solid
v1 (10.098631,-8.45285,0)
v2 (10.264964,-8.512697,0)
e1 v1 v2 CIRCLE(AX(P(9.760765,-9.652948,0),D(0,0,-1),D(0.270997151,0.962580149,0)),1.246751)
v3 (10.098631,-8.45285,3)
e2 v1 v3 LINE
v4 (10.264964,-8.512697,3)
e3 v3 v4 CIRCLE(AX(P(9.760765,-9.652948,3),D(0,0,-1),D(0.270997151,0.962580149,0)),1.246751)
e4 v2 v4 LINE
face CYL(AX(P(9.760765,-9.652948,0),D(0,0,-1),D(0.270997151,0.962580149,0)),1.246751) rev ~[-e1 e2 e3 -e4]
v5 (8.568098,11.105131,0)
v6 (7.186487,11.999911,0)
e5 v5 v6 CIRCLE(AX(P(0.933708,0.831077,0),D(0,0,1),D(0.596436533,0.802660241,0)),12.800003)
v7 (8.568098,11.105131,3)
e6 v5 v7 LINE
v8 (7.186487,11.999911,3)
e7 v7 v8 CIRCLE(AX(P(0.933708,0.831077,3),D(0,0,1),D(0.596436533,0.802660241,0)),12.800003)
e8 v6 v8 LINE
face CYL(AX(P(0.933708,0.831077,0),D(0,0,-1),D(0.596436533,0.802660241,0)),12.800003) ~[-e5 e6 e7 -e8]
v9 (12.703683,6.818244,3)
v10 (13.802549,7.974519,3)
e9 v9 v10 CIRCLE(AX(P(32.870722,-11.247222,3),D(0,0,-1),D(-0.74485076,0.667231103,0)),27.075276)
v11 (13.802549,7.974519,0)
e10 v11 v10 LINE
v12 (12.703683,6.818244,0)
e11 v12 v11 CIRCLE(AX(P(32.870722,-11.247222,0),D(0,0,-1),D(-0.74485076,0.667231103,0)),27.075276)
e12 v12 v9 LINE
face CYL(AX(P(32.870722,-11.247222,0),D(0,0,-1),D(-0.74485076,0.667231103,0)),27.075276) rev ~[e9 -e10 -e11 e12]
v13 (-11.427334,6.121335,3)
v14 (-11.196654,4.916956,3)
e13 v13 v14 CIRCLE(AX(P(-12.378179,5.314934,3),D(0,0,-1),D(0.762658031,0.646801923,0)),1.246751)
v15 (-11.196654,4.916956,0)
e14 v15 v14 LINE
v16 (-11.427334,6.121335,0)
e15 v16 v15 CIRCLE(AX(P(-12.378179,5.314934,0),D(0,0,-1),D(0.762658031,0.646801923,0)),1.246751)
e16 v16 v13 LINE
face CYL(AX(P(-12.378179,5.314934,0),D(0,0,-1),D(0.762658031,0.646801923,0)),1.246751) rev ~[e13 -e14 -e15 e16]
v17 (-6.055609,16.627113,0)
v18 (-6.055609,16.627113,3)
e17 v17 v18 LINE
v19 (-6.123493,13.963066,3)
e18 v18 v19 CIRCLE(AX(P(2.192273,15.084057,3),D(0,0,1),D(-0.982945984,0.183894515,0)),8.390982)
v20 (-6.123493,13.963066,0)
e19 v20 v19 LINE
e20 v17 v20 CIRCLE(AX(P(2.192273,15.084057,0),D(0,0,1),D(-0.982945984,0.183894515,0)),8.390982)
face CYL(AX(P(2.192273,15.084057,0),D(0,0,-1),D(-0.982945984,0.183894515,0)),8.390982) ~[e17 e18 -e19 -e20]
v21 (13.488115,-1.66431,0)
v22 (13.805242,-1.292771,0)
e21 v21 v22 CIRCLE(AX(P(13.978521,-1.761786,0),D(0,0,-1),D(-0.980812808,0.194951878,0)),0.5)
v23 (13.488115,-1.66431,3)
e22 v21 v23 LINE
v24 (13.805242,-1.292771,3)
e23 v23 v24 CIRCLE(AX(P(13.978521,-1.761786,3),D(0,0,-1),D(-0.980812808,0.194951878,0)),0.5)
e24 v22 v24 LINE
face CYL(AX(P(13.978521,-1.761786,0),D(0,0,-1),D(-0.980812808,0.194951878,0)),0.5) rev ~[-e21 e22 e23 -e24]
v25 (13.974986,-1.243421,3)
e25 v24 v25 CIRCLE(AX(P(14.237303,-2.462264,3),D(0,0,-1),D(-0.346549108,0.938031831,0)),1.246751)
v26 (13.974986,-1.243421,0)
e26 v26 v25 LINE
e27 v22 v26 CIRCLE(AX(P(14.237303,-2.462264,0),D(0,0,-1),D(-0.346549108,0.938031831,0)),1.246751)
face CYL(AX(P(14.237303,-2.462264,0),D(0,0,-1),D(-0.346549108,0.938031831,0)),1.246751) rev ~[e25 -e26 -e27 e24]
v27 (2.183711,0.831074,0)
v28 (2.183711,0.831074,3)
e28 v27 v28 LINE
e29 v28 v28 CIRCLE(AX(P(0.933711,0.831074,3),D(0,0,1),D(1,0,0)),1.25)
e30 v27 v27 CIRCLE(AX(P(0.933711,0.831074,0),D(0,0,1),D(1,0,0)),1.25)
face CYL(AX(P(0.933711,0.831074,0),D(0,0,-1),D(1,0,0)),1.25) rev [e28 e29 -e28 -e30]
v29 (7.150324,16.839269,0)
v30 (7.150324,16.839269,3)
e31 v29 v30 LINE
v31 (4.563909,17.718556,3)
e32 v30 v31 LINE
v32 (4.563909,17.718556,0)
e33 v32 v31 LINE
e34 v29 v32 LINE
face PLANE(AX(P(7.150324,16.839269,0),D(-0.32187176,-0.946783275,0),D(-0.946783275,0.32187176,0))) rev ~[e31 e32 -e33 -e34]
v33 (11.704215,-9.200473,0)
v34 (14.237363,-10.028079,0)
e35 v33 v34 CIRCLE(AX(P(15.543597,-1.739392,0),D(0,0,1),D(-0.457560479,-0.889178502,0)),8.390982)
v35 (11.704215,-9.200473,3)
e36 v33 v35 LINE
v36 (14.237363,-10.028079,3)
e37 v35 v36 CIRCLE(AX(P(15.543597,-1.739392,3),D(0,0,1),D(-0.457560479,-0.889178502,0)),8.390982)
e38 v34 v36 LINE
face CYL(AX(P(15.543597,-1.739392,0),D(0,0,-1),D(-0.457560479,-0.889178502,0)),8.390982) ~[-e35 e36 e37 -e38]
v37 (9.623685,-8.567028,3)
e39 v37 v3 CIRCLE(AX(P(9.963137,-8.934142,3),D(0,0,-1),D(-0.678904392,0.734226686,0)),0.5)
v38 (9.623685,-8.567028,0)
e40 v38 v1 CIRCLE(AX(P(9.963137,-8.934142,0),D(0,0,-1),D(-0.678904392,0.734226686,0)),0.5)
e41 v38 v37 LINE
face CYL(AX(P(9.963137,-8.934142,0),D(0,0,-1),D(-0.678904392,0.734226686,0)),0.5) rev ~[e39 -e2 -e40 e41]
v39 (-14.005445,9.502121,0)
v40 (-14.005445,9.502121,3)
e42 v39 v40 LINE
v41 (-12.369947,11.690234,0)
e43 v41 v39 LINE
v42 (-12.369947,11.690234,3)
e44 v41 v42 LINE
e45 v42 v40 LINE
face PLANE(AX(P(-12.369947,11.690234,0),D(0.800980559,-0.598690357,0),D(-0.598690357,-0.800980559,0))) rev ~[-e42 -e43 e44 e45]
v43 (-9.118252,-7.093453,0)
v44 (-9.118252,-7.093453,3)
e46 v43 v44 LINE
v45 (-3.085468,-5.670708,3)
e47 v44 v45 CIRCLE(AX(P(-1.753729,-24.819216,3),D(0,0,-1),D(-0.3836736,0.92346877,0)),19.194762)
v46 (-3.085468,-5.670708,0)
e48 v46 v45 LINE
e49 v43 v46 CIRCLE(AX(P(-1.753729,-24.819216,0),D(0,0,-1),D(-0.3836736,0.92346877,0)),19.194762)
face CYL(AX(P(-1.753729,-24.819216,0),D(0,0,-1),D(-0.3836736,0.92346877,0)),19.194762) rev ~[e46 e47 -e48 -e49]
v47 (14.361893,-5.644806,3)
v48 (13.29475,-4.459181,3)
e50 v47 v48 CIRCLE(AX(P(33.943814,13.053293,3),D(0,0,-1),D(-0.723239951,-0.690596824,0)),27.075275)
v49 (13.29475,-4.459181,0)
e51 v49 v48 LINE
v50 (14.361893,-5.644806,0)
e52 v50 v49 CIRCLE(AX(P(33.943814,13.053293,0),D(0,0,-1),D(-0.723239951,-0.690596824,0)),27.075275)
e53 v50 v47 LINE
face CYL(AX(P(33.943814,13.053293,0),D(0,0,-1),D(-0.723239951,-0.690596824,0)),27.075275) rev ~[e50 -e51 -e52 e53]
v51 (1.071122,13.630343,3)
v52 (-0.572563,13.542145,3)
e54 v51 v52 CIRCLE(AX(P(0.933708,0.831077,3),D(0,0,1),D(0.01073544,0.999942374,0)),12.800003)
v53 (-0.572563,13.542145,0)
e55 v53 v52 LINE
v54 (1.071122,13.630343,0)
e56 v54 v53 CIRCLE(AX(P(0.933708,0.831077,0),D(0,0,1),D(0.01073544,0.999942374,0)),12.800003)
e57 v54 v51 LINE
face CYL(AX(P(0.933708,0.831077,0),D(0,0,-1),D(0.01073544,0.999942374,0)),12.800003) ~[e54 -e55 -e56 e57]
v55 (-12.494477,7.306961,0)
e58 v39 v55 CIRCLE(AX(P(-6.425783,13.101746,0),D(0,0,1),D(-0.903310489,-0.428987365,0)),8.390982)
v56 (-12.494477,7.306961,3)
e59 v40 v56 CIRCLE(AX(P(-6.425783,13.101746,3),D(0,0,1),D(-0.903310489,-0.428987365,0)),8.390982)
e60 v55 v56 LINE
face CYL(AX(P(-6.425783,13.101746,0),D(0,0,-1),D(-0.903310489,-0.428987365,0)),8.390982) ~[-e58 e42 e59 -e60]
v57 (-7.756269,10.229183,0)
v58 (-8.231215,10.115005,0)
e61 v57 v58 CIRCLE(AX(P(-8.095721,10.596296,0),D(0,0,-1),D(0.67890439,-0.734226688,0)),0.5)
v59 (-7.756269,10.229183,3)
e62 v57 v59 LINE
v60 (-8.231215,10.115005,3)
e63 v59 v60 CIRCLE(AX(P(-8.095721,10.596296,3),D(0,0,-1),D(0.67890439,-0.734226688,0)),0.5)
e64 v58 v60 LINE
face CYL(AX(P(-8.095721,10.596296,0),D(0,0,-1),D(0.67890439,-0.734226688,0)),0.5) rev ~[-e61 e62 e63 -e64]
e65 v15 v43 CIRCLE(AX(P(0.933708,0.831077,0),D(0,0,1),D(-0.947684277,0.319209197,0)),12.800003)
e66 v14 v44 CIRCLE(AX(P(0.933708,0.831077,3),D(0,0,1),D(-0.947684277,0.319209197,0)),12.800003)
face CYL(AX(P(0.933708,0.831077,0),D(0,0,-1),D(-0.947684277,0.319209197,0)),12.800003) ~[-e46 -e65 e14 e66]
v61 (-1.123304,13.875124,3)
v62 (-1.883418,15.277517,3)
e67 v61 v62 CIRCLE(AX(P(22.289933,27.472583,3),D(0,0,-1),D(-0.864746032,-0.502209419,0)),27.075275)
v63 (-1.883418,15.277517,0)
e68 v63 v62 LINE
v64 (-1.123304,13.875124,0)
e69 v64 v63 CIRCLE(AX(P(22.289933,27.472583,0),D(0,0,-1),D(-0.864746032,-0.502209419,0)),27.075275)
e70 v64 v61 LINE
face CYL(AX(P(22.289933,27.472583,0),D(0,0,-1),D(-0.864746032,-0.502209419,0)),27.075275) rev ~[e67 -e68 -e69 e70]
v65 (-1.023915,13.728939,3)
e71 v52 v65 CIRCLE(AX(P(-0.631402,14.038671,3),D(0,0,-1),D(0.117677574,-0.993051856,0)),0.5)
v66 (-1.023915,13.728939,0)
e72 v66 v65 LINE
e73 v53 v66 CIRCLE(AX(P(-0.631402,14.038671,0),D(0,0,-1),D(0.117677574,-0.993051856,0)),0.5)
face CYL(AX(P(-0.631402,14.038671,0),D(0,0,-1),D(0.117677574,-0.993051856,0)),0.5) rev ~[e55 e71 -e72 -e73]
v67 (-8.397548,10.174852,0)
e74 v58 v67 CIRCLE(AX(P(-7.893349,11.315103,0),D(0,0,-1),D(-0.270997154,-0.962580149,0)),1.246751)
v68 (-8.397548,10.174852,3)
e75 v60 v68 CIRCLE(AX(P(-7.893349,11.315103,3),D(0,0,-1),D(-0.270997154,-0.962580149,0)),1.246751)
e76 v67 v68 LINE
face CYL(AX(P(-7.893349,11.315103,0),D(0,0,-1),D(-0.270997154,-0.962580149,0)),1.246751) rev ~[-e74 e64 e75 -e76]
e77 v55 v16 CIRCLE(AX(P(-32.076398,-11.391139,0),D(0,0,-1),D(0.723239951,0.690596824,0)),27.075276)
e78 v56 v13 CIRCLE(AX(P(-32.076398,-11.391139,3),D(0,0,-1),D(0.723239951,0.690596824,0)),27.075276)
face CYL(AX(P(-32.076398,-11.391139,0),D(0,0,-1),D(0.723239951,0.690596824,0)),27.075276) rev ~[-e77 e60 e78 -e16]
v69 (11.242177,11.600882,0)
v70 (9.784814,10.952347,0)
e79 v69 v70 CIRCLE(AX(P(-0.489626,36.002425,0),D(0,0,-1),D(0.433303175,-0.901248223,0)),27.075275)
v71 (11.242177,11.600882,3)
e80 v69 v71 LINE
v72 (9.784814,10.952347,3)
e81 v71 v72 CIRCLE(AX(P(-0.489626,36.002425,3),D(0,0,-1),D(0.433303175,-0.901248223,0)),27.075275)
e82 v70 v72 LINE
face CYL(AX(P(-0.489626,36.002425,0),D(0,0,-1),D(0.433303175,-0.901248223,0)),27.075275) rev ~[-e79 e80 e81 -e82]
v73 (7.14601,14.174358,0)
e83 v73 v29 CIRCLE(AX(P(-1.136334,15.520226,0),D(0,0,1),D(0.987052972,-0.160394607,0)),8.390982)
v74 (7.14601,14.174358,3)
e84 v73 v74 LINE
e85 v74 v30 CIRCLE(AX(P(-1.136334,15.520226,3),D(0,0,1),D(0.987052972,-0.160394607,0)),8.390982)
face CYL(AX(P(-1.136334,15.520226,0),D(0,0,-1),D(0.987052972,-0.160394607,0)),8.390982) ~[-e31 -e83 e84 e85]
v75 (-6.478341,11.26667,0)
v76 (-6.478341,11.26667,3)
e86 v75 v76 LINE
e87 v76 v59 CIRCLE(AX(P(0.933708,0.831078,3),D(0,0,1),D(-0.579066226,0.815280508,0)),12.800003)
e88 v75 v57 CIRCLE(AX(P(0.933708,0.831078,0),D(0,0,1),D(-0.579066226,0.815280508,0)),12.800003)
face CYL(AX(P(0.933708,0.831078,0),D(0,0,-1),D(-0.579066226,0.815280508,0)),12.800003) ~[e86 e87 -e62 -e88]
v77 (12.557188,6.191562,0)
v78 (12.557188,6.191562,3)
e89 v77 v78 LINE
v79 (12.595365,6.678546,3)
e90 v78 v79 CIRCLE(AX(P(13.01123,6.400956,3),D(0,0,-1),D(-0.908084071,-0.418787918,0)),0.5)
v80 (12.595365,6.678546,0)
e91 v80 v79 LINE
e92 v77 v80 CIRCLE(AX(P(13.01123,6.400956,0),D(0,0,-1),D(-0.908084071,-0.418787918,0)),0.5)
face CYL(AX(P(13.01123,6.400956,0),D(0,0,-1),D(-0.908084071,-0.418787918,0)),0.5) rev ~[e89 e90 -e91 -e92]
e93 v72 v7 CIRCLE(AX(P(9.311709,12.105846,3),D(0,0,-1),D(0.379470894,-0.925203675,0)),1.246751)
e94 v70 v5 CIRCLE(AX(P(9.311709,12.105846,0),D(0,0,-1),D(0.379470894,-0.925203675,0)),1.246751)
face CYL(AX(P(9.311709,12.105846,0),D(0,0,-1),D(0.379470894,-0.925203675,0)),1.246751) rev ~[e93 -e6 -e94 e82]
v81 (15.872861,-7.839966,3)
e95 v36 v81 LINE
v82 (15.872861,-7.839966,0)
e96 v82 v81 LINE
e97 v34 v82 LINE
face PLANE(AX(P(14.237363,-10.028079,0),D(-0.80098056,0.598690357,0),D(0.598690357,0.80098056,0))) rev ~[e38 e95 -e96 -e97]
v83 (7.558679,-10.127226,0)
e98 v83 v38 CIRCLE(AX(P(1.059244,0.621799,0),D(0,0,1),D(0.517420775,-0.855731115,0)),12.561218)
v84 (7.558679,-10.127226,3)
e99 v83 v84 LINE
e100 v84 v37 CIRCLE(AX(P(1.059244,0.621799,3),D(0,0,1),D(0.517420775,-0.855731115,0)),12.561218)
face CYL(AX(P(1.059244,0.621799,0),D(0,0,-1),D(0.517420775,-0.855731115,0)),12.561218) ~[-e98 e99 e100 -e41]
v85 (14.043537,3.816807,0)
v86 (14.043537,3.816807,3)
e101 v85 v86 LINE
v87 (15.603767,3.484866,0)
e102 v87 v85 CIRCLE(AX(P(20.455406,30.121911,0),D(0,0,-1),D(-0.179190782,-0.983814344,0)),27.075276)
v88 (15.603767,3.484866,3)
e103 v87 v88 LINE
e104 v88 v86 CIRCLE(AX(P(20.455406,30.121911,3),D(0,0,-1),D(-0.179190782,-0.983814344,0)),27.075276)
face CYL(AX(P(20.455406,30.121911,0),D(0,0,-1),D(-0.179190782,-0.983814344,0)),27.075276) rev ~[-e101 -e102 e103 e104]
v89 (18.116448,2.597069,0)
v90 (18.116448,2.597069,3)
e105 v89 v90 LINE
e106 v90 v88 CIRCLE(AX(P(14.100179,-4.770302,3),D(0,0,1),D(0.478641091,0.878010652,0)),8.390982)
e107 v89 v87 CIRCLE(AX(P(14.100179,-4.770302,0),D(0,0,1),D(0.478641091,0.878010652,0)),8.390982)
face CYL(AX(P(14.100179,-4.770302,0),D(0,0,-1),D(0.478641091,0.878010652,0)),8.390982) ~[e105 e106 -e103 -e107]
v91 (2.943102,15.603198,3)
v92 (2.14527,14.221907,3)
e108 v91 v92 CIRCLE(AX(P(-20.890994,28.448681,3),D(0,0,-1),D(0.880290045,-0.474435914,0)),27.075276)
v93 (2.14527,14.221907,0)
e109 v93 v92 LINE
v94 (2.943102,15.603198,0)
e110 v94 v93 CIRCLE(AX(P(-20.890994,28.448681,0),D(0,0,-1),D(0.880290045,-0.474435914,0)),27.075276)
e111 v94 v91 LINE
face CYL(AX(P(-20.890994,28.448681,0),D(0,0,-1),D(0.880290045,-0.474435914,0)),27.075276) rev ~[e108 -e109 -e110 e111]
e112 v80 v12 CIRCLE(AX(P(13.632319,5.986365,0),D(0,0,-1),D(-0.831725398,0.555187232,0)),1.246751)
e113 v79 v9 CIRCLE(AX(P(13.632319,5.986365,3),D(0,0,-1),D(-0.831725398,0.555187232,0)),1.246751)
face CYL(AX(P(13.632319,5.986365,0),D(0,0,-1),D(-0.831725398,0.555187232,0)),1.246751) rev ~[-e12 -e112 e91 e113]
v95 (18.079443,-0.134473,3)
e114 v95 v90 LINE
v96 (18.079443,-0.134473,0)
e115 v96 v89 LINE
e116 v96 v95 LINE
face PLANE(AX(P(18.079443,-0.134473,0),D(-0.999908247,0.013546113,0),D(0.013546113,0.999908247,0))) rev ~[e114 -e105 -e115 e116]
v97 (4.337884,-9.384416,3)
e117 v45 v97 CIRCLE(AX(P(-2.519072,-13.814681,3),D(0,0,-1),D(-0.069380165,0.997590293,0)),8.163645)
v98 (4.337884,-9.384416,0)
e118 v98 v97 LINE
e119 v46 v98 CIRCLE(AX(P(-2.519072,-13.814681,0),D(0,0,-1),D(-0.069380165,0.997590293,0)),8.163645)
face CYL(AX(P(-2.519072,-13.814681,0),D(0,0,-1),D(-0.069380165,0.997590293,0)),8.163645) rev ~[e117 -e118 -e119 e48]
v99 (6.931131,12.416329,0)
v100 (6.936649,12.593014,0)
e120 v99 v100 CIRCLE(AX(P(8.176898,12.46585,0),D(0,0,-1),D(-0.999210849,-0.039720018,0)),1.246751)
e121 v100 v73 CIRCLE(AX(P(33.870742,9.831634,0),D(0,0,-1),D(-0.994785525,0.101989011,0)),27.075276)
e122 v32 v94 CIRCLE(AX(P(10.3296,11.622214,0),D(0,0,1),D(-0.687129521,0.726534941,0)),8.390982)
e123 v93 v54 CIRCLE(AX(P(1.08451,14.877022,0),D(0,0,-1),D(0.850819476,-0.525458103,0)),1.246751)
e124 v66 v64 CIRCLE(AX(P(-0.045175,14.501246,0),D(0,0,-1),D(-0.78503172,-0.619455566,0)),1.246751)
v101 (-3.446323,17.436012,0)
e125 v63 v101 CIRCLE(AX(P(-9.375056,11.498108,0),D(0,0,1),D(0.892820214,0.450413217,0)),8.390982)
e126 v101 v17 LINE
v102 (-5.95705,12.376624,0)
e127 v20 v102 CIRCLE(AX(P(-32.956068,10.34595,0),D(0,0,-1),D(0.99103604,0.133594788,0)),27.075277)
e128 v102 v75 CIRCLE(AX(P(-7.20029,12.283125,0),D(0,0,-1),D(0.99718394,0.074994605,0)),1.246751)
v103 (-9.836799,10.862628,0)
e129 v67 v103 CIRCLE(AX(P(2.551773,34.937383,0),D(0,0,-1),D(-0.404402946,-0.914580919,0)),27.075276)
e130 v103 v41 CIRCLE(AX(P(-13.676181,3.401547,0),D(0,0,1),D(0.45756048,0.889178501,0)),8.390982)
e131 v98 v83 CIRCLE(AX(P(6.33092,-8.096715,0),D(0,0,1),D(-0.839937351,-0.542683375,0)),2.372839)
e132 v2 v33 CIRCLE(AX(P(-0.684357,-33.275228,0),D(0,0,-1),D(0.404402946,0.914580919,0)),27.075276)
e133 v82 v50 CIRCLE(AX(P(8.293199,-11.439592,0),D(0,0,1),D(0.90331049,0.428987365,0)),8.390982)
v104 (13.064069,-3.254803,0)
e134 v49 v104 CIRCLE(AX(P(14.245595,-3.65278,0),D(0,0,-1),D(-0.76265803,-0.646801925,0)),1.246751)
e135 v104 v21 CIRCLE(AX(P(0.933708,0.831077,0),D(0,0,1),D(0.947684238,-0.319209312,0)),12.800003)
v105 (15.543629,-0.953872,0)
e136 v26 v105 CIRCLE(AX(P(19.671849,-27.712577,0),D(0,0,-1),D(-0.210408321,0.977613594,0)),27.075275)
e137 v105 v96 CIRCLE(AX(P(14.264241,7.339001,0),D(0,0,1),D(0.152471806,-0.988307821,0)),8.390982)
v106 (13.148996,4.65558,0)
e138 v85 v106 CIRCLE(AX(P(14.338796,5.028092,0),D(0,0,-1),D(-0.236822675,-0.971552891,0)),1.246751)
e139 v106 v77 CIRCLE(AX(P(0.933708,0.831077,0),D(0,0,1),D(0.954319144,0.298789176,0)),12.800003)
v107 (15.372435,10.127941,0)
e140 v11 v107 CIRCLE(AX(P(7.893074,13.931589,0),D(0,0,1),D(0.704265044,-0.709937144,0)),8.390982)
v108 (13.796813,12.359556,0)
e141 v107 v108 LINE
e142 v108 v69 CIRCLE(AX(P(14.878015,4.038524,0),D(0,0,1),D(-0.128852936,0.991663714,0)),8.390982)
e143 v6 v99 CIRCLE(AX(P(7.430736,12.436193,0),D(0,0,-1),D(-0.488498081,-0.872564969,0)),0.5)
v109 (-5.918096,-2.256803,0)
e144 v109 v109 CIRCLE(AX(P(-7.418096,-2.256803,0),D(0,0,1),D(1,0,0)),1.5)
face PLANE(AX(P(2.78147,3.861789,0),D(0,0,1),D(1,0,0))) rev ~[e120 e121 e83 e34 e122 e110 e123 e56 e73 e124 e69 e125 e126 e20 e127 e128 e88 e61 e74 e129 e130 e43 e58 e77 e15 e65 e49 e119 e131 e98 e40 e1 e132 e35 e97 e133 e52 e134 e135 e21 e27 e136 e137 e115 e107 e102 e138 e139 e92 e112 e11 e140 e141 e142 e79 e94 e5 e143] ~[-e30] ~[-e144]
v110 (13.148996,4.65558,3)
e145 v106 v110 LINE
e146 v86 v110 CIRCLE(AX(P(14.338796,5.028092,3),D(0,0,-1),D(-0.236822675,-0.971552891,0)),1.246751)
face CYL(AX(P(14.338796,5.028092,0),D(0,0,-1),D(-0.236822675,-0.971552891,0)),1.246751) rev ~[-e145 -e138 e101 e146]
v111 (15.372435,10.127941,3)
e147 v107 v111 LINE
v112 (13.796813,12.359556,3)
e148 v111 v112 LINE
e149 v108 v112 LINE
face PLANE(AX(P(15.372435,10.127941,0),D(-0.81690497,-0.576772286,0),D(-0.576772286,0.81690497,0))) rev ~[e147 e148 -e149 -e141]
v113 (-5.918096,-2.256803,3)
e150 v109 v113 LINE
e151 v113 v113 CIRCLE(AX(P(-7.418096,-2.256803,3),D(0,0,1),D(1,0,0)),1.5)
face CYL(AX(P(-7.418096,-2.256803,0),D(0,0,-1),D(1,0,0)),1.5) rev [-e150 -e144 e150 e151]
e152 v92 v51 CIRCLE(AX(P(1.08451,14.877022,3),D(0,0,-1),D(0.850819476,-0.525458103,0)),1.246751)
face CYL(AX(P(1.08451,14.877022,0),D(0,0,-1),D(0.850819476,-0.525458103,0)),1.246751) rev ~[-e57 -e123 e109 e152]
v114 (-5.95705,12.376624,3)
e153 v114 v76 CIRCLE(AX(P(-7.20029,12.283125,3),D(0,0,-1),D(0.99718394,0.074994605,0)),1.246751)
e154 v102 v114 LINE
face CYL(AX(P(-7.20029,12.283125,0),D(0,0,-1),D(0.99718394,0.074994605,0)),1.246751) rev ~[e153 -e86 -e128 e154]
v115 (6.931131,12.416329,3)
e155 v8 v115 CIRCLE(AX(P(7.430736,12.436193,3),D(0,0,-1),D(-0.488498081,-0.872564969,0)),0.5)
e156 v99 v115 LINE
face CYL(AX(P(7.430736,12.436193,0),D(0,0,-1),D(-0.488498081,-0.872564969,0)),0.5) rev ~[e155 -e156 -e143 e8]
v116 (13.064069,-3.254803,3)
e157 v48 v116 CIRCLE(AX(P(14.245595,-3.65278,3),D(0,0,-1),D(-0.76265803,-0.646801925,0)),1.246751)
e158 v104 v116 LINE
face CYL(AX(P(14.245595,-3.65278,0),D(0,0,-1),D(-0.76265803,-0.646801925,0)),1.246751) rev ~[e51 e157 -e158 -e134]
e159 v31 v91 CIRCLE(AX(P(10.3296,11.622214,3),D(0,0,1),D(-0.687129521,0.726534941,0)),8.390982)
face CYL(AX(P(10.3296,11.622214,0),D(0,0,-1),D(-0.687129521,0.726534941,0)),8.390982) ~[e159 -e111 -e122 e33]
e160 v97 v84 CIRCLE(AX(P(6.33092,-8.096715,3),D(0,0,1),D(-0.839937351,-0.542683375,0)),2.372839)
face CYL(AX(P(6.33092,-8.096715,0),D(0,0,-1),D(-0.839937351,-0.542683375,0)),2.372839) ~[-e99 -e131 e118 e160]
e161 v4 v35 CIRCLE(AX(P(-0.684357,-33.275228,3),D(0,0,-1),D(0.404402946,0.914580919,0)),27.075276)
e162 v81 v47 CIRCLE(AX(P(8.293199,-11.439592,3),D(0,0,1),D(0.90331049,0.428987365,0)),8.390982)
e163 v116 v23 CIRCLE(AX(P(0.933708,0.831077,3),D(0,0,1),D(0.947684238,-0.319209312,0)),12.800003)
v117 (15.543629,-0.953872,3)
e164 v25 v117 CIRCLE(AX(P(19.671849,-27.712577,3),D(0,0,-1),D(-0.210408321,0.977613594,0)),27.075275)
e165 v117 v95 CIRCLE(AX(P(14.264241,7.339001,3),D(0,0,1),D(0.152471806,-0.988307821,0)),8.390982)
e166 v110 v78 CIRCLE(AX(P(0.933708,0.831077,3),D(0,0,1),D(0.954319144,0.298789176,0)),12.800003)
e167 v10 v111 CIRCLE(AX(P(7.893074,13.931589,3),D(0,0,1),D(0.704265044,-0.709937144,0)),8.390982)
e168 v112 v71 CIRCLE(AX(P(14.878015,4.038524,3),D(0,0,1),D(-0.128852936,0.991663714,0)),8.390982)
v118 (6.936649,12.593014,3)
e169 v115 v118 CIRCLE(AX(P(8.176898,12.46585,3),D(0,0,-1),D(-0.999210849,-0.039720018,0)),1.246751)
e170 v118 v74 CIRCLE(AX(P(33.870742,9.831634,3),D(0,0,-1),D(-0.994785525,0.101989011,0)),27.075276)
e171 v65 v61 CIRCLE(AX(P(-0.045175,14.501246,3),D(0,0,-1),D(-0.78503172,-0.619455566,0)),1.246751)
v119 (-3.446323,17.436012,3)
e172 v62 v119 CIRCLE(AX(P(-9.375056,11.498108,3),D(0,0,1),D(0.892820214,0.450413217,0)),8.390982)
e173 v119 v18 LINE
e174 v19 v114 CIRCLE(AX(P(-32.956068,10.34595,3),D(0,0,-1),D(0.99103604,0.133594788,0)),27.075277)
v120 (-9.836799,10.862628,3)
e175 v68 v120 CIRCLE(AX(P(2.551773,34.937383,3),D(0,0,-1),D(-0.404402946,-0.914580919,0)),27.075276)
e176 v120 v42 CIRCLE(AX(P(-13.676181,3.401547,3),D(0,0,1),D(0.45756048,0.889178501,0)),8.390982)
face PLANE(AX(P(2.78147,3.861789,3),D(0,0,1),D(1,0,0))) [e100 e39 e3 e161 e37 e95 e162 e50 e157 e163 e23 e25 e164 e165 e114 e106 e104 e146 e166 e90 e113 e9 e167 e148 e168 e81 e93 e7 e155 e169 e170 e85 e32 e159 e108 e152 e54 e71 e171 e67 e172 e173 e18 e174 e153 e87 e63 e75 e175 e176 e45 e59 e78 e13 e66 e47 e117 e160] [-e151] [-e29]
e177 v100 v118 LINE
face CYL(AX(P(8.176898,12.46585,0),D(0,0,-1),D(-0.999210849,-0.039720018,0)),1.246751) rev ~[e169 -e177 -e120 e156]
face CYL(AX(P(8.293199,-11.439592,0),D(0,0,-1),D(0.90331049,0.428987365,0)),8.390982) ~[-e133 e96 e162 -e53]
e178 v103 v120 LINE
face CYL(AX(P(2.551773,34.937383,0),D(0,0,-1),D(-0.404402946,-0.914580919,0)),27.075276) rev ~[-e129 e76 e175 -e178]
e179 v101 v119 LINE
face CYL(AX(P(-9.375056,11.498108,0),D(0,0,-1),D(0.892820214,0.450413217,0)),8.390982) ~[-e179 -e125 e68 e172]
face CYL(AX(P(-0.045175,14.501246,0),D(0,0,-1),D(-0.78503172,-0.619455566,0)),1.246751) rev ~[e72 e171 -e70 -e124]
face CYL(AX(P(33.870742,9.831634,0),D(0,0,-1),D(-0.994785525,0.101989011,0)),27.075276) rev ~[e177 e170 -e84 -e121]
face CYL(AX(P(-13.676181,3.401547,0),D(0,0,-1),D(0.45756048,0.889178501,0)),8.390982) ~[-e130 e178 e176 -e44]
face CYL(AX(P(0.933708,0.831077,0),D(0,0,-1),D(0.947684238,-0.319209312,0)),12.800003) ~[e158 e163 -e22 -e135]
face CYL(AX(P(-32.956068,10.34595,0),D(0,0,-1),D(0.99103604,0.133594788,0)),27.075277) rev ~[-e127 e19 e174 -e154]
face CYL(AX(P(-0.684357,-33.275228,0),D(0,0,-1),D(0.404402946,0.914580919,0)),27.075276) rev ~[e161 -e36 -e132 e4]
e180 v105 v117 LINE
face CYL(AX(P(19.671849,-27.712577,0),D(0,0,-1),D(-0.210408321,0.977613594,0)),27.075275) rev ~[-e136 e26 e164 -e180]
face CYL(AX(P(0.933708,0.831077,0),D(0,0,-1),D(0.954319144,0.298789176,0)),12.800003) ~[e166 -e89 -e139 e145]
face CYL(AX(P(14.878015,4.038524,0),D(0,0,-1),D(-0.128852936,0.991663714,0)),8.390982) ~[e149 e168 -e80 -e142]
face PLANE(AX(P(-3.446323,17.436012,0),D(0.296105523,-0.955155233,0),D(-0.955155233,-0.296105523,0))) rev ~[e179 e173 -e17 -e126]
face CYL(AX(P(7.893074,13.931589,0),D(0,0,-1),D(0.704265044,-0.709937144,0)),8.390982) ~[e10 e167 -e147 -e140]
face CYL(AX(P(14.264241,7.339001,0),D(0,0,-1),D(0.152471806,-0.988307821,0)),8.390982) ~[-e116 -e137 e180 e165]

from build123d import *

# Parameters (mm, degrees)
SKETCH1_R           = 1.5
SKETCH1_R_2         = 1.25
BOSS_EXTRUDE1_DEPTH = 3


with BuildPart() as part:
    # Sketch1 → Boss-Extrude1 (new body)
    with BuildSketch(Plane.XY):
        with BuildLine():
            Line((18.079443034, -0.134472667), (18.116448206, 2.597069427))
            ThreePointArc((18.116448206, 2.597069427), (16.895577145, 3.141355734), (15.603766672, 3.48486619))
            ThreePointArc((15.603766672, 3.48486619), (14.82120671, 3.639343944), (14.043536913, 3.816807057))
            ThreePointArc((14.043536913, 3.816807057), (13.486015309, 4.11861181), (13.148996222, 4.655579763))
            ThreePointArc((13.148996222, 4.655579763), (12.877808188, 5.433093829), (12.557188118, 6.191561919))
            ThreePointArc((12.557188118, 6.191561919), (12.512759529, 6.440033201), (12.595364936, 6.678545725))
            ThreePointArc((12.595364936, 6.678545725), (12.647044724, 6.750316962), (12.70368256, 6.818243882))
            ThreePointArc((12.70368256, 6.818243882), (13.244598766, 7.404475621), (13.802549183, 7.974518889))
            ThreePointArc((13.802549183, 7.974518889), (14.673526858, 8.988509045), (15.372435088, 10.12794111))
            Line((15.372435088, 10.12794111), (13.796812742, 12.35955618))
            ThreePointArc((13.796812742, 12.35955618), (12.489183841, 12.082283047), (11.242176835, 11.600881699))
            ThreePointArc((11.242176835, 11.600881699), (10.518272782, 11.265879623), (9.784814499, 10.95234746))
            ThreePointArc((9.784814499, 10.95234746), (9.156373664, 10.868809657), (8.568097651, 11.105131008))
            ThreePointArc((8.568097651, 11.105131008), (7.891690622, 11.574752773), (7.186487179, 11.999910599))
            ThreePointArc((7.186487179, 11.999910599), (7.00449594, 12.174813619), (6.931130974, 12.416328545))
            ThreePointArc((6.931130974, 12.416328545), (6.930754726, 12.504769312), (6.936649256, 12.59301423))
            ThreePointArc((6.936649256, 12.59301423), (7.029681289, 13.385228238), (7.146009632, 14.174357956))
            ThreePointArc((7.146009632, 14.174357956), (7.254636913, 15.506641056), (7.150324186, 16.839268911))
            Line((7.150324186, 16.839268911), (4.563908504, 17.71855585))
            ThreePointArc((4.563908504, 17.71855585), (3.668991559, 16.72563219), (2.943102312, 15.603197991))
            ThreePointArc((2.943102312, 15.603197991), (2.55436091, 14.906675492), (2.145270277, 14.221906682))
            ThreePointArc((2.145270277, 14.221906682), (1.685953249, 13.784934925), (1.071121753, 13.630342949))
            ThreePointArc((1.071121753, 13.630342949), (0.247860223, 13.612692862), (-0.572562847, 13.542144585))
            ThreePointArc((-0.572562847, 13.542144585), (-0.822602268, 13.576672334), (-1.023914683, 13.728939169))
            ThreePointArc((-1.023914683, 13.728939169), (-1.076203253, 13.8002681), (-1.12330354, 13.875124455))
            ThreePointArc((-1.12330354, 13.875124455), (-1.513690755, 14.570721908), (-1.883417958, 15.277517345))
            ThreePointArc((-1.883417958, 15.277517345), (-2.578633, 16.419206529), (-3.446322769, 17.436011628))
            Line((-3.446322769, 17.436011628), (-6.055608905, 16.62711271))
            ThreePointArc((-6.055608905, 16.62711271), (-6.195986038, 15.297801614), (-6.123492507, 13.963066277))
            ThreePointArc((-6.123492507, 13.963066277), (-6.028585255, 13.171071275), (-5.957049521, 12.376624229))
            ThreePointArc((-5.957049521, 12.376624229), (-6.071799248, 11.753126877), (-6.478341494, 11.266670455))
            ThreePointArc((-6.478341494, 11.266670455), (-7.133999602, 10.768490249), (-7.756268571, 10.229182913))
            ThreePointArc((-7.756268571, 10.229182913), (-7.978849614, 10.110146965), (-8.231214979, 10.115004953))
            ThreePointArc((-8.231214979, 10.115004953), (-8.315443414, 10.14197682), (-8.397547808, 10.17485203))
            ThreePointArc((-8.397547808, 10.17485203), (-9.122239624, 10.508138343), (-9.836799148, 10.862627665))
            ThreePointArc((-9.836799148, 10.862627665), (-11.070307997, 11.377636469), (-12.369946808, 11.690233824))
            Line((-12.369946808, 11.690233824), (-14.005444781, 9.502120943))
            ThreePointArc((-14.005444781, 9.502120943), (-13.337662809, 8.344174067), (-12.494476564, 7.306961125))
            ThreePointArc((-12.494476564, 7.306961125), (-11.952172002, 6.722008792), (-11.427334121, 6.12133528))
            ThreePointArc((-11.427334121, 6.12133528), (-11.153686052, 5.549467129), (-11.196653727, 4.91695608))
            ThreePointArc((-11.196653727, 4.91695608), (-11.678838592, -1.351524146), (-9.118252224, -7.093452745))
            ThreePointArc((-9.118252224, -7.093452745), (-6.159667353, -6.136962556), (-3.085467527, -5.670707959))
            ThreePointArc((-3.085467527, -5.670707959), (1.133419318, -6.513694494), (4.3378838, -9.384415639))
            ThreePointArc((4.3378838, -9.384415639), (5.797671296, -10.408859622), (7.558678835, -10.127226075))
            ThreePointArc((7.558678835, -10.127226075), (8.631472289, -9.400453805), (9.623684759, -8.567028257))
            ThreePointArc((9.623684759, -8.567028257), (9.846265801, -8.447992309), (10.098631166, -8.452850297))
            ThreePointArc((10.098631166, -8.452850297), (10.182859602, -8.479822164), (10.264963995, -8.512697373))
            ThreePointArc((10.264963995, -8.512697373), (10.989655811, -8.845983686), (11.704215336, -9.200473008))
            ThreePointArc((11.704215336, -9.200473008), (12.937724185, -9.715481811), (14.237362996, -10.028079165))
            Line((14.237362996, -10.028079165), (15.872860968, -7.839966284))
            ThreePointArc((15.872860968, -7.839966284), (15.205078995, -6.682019407), (14.361892749, -5.644806466))
            ThreePointArc((14.361892749, -5.644806466), (13.819588187, -5.059854134), (13.294750306, -4.459180622))
            ThreePointArc((13.294750306, -4.459180622), (13.021102236, -3.887312471), (13.064069415, -3.254802895))
            ThreePointArc((13.064069415, -3.254802895), (13.301685284, -2.466379753), (13.488114756, -1.664309679))
            ThreePointArc((13.488114756, -1.664309679), (13.598219027, -1.43717772), (13.80524235, -1.292771275))
            ThreePointArc((13.80524235, -1.292771275), (13.889238251, -1.265083742), (13.974985665, -1.243420593))
            ThreePointArc((13.974985665, -1.243420593), (14.757174439, -1.087091722), (15.543628834, -0.953872058))
            ThreePointArc((15.543628834, -0.953872058), (16.844273034, -0.645484622), (18.079443034, -0.134472667))
        make_face()
        with Locations((-7.418095669, -2.256802895)):
            Circle(SKETCH1_R, mode=Mode.SUBTRACT)
        with Locations((0.933711072, 0.831073783)):
            Circle(SKETCH1_R_2, mode=Mode.SUBTRACT)
    extrude(amount=BOSS_EXTRUDE1_DEPTH)


solid = part.part
